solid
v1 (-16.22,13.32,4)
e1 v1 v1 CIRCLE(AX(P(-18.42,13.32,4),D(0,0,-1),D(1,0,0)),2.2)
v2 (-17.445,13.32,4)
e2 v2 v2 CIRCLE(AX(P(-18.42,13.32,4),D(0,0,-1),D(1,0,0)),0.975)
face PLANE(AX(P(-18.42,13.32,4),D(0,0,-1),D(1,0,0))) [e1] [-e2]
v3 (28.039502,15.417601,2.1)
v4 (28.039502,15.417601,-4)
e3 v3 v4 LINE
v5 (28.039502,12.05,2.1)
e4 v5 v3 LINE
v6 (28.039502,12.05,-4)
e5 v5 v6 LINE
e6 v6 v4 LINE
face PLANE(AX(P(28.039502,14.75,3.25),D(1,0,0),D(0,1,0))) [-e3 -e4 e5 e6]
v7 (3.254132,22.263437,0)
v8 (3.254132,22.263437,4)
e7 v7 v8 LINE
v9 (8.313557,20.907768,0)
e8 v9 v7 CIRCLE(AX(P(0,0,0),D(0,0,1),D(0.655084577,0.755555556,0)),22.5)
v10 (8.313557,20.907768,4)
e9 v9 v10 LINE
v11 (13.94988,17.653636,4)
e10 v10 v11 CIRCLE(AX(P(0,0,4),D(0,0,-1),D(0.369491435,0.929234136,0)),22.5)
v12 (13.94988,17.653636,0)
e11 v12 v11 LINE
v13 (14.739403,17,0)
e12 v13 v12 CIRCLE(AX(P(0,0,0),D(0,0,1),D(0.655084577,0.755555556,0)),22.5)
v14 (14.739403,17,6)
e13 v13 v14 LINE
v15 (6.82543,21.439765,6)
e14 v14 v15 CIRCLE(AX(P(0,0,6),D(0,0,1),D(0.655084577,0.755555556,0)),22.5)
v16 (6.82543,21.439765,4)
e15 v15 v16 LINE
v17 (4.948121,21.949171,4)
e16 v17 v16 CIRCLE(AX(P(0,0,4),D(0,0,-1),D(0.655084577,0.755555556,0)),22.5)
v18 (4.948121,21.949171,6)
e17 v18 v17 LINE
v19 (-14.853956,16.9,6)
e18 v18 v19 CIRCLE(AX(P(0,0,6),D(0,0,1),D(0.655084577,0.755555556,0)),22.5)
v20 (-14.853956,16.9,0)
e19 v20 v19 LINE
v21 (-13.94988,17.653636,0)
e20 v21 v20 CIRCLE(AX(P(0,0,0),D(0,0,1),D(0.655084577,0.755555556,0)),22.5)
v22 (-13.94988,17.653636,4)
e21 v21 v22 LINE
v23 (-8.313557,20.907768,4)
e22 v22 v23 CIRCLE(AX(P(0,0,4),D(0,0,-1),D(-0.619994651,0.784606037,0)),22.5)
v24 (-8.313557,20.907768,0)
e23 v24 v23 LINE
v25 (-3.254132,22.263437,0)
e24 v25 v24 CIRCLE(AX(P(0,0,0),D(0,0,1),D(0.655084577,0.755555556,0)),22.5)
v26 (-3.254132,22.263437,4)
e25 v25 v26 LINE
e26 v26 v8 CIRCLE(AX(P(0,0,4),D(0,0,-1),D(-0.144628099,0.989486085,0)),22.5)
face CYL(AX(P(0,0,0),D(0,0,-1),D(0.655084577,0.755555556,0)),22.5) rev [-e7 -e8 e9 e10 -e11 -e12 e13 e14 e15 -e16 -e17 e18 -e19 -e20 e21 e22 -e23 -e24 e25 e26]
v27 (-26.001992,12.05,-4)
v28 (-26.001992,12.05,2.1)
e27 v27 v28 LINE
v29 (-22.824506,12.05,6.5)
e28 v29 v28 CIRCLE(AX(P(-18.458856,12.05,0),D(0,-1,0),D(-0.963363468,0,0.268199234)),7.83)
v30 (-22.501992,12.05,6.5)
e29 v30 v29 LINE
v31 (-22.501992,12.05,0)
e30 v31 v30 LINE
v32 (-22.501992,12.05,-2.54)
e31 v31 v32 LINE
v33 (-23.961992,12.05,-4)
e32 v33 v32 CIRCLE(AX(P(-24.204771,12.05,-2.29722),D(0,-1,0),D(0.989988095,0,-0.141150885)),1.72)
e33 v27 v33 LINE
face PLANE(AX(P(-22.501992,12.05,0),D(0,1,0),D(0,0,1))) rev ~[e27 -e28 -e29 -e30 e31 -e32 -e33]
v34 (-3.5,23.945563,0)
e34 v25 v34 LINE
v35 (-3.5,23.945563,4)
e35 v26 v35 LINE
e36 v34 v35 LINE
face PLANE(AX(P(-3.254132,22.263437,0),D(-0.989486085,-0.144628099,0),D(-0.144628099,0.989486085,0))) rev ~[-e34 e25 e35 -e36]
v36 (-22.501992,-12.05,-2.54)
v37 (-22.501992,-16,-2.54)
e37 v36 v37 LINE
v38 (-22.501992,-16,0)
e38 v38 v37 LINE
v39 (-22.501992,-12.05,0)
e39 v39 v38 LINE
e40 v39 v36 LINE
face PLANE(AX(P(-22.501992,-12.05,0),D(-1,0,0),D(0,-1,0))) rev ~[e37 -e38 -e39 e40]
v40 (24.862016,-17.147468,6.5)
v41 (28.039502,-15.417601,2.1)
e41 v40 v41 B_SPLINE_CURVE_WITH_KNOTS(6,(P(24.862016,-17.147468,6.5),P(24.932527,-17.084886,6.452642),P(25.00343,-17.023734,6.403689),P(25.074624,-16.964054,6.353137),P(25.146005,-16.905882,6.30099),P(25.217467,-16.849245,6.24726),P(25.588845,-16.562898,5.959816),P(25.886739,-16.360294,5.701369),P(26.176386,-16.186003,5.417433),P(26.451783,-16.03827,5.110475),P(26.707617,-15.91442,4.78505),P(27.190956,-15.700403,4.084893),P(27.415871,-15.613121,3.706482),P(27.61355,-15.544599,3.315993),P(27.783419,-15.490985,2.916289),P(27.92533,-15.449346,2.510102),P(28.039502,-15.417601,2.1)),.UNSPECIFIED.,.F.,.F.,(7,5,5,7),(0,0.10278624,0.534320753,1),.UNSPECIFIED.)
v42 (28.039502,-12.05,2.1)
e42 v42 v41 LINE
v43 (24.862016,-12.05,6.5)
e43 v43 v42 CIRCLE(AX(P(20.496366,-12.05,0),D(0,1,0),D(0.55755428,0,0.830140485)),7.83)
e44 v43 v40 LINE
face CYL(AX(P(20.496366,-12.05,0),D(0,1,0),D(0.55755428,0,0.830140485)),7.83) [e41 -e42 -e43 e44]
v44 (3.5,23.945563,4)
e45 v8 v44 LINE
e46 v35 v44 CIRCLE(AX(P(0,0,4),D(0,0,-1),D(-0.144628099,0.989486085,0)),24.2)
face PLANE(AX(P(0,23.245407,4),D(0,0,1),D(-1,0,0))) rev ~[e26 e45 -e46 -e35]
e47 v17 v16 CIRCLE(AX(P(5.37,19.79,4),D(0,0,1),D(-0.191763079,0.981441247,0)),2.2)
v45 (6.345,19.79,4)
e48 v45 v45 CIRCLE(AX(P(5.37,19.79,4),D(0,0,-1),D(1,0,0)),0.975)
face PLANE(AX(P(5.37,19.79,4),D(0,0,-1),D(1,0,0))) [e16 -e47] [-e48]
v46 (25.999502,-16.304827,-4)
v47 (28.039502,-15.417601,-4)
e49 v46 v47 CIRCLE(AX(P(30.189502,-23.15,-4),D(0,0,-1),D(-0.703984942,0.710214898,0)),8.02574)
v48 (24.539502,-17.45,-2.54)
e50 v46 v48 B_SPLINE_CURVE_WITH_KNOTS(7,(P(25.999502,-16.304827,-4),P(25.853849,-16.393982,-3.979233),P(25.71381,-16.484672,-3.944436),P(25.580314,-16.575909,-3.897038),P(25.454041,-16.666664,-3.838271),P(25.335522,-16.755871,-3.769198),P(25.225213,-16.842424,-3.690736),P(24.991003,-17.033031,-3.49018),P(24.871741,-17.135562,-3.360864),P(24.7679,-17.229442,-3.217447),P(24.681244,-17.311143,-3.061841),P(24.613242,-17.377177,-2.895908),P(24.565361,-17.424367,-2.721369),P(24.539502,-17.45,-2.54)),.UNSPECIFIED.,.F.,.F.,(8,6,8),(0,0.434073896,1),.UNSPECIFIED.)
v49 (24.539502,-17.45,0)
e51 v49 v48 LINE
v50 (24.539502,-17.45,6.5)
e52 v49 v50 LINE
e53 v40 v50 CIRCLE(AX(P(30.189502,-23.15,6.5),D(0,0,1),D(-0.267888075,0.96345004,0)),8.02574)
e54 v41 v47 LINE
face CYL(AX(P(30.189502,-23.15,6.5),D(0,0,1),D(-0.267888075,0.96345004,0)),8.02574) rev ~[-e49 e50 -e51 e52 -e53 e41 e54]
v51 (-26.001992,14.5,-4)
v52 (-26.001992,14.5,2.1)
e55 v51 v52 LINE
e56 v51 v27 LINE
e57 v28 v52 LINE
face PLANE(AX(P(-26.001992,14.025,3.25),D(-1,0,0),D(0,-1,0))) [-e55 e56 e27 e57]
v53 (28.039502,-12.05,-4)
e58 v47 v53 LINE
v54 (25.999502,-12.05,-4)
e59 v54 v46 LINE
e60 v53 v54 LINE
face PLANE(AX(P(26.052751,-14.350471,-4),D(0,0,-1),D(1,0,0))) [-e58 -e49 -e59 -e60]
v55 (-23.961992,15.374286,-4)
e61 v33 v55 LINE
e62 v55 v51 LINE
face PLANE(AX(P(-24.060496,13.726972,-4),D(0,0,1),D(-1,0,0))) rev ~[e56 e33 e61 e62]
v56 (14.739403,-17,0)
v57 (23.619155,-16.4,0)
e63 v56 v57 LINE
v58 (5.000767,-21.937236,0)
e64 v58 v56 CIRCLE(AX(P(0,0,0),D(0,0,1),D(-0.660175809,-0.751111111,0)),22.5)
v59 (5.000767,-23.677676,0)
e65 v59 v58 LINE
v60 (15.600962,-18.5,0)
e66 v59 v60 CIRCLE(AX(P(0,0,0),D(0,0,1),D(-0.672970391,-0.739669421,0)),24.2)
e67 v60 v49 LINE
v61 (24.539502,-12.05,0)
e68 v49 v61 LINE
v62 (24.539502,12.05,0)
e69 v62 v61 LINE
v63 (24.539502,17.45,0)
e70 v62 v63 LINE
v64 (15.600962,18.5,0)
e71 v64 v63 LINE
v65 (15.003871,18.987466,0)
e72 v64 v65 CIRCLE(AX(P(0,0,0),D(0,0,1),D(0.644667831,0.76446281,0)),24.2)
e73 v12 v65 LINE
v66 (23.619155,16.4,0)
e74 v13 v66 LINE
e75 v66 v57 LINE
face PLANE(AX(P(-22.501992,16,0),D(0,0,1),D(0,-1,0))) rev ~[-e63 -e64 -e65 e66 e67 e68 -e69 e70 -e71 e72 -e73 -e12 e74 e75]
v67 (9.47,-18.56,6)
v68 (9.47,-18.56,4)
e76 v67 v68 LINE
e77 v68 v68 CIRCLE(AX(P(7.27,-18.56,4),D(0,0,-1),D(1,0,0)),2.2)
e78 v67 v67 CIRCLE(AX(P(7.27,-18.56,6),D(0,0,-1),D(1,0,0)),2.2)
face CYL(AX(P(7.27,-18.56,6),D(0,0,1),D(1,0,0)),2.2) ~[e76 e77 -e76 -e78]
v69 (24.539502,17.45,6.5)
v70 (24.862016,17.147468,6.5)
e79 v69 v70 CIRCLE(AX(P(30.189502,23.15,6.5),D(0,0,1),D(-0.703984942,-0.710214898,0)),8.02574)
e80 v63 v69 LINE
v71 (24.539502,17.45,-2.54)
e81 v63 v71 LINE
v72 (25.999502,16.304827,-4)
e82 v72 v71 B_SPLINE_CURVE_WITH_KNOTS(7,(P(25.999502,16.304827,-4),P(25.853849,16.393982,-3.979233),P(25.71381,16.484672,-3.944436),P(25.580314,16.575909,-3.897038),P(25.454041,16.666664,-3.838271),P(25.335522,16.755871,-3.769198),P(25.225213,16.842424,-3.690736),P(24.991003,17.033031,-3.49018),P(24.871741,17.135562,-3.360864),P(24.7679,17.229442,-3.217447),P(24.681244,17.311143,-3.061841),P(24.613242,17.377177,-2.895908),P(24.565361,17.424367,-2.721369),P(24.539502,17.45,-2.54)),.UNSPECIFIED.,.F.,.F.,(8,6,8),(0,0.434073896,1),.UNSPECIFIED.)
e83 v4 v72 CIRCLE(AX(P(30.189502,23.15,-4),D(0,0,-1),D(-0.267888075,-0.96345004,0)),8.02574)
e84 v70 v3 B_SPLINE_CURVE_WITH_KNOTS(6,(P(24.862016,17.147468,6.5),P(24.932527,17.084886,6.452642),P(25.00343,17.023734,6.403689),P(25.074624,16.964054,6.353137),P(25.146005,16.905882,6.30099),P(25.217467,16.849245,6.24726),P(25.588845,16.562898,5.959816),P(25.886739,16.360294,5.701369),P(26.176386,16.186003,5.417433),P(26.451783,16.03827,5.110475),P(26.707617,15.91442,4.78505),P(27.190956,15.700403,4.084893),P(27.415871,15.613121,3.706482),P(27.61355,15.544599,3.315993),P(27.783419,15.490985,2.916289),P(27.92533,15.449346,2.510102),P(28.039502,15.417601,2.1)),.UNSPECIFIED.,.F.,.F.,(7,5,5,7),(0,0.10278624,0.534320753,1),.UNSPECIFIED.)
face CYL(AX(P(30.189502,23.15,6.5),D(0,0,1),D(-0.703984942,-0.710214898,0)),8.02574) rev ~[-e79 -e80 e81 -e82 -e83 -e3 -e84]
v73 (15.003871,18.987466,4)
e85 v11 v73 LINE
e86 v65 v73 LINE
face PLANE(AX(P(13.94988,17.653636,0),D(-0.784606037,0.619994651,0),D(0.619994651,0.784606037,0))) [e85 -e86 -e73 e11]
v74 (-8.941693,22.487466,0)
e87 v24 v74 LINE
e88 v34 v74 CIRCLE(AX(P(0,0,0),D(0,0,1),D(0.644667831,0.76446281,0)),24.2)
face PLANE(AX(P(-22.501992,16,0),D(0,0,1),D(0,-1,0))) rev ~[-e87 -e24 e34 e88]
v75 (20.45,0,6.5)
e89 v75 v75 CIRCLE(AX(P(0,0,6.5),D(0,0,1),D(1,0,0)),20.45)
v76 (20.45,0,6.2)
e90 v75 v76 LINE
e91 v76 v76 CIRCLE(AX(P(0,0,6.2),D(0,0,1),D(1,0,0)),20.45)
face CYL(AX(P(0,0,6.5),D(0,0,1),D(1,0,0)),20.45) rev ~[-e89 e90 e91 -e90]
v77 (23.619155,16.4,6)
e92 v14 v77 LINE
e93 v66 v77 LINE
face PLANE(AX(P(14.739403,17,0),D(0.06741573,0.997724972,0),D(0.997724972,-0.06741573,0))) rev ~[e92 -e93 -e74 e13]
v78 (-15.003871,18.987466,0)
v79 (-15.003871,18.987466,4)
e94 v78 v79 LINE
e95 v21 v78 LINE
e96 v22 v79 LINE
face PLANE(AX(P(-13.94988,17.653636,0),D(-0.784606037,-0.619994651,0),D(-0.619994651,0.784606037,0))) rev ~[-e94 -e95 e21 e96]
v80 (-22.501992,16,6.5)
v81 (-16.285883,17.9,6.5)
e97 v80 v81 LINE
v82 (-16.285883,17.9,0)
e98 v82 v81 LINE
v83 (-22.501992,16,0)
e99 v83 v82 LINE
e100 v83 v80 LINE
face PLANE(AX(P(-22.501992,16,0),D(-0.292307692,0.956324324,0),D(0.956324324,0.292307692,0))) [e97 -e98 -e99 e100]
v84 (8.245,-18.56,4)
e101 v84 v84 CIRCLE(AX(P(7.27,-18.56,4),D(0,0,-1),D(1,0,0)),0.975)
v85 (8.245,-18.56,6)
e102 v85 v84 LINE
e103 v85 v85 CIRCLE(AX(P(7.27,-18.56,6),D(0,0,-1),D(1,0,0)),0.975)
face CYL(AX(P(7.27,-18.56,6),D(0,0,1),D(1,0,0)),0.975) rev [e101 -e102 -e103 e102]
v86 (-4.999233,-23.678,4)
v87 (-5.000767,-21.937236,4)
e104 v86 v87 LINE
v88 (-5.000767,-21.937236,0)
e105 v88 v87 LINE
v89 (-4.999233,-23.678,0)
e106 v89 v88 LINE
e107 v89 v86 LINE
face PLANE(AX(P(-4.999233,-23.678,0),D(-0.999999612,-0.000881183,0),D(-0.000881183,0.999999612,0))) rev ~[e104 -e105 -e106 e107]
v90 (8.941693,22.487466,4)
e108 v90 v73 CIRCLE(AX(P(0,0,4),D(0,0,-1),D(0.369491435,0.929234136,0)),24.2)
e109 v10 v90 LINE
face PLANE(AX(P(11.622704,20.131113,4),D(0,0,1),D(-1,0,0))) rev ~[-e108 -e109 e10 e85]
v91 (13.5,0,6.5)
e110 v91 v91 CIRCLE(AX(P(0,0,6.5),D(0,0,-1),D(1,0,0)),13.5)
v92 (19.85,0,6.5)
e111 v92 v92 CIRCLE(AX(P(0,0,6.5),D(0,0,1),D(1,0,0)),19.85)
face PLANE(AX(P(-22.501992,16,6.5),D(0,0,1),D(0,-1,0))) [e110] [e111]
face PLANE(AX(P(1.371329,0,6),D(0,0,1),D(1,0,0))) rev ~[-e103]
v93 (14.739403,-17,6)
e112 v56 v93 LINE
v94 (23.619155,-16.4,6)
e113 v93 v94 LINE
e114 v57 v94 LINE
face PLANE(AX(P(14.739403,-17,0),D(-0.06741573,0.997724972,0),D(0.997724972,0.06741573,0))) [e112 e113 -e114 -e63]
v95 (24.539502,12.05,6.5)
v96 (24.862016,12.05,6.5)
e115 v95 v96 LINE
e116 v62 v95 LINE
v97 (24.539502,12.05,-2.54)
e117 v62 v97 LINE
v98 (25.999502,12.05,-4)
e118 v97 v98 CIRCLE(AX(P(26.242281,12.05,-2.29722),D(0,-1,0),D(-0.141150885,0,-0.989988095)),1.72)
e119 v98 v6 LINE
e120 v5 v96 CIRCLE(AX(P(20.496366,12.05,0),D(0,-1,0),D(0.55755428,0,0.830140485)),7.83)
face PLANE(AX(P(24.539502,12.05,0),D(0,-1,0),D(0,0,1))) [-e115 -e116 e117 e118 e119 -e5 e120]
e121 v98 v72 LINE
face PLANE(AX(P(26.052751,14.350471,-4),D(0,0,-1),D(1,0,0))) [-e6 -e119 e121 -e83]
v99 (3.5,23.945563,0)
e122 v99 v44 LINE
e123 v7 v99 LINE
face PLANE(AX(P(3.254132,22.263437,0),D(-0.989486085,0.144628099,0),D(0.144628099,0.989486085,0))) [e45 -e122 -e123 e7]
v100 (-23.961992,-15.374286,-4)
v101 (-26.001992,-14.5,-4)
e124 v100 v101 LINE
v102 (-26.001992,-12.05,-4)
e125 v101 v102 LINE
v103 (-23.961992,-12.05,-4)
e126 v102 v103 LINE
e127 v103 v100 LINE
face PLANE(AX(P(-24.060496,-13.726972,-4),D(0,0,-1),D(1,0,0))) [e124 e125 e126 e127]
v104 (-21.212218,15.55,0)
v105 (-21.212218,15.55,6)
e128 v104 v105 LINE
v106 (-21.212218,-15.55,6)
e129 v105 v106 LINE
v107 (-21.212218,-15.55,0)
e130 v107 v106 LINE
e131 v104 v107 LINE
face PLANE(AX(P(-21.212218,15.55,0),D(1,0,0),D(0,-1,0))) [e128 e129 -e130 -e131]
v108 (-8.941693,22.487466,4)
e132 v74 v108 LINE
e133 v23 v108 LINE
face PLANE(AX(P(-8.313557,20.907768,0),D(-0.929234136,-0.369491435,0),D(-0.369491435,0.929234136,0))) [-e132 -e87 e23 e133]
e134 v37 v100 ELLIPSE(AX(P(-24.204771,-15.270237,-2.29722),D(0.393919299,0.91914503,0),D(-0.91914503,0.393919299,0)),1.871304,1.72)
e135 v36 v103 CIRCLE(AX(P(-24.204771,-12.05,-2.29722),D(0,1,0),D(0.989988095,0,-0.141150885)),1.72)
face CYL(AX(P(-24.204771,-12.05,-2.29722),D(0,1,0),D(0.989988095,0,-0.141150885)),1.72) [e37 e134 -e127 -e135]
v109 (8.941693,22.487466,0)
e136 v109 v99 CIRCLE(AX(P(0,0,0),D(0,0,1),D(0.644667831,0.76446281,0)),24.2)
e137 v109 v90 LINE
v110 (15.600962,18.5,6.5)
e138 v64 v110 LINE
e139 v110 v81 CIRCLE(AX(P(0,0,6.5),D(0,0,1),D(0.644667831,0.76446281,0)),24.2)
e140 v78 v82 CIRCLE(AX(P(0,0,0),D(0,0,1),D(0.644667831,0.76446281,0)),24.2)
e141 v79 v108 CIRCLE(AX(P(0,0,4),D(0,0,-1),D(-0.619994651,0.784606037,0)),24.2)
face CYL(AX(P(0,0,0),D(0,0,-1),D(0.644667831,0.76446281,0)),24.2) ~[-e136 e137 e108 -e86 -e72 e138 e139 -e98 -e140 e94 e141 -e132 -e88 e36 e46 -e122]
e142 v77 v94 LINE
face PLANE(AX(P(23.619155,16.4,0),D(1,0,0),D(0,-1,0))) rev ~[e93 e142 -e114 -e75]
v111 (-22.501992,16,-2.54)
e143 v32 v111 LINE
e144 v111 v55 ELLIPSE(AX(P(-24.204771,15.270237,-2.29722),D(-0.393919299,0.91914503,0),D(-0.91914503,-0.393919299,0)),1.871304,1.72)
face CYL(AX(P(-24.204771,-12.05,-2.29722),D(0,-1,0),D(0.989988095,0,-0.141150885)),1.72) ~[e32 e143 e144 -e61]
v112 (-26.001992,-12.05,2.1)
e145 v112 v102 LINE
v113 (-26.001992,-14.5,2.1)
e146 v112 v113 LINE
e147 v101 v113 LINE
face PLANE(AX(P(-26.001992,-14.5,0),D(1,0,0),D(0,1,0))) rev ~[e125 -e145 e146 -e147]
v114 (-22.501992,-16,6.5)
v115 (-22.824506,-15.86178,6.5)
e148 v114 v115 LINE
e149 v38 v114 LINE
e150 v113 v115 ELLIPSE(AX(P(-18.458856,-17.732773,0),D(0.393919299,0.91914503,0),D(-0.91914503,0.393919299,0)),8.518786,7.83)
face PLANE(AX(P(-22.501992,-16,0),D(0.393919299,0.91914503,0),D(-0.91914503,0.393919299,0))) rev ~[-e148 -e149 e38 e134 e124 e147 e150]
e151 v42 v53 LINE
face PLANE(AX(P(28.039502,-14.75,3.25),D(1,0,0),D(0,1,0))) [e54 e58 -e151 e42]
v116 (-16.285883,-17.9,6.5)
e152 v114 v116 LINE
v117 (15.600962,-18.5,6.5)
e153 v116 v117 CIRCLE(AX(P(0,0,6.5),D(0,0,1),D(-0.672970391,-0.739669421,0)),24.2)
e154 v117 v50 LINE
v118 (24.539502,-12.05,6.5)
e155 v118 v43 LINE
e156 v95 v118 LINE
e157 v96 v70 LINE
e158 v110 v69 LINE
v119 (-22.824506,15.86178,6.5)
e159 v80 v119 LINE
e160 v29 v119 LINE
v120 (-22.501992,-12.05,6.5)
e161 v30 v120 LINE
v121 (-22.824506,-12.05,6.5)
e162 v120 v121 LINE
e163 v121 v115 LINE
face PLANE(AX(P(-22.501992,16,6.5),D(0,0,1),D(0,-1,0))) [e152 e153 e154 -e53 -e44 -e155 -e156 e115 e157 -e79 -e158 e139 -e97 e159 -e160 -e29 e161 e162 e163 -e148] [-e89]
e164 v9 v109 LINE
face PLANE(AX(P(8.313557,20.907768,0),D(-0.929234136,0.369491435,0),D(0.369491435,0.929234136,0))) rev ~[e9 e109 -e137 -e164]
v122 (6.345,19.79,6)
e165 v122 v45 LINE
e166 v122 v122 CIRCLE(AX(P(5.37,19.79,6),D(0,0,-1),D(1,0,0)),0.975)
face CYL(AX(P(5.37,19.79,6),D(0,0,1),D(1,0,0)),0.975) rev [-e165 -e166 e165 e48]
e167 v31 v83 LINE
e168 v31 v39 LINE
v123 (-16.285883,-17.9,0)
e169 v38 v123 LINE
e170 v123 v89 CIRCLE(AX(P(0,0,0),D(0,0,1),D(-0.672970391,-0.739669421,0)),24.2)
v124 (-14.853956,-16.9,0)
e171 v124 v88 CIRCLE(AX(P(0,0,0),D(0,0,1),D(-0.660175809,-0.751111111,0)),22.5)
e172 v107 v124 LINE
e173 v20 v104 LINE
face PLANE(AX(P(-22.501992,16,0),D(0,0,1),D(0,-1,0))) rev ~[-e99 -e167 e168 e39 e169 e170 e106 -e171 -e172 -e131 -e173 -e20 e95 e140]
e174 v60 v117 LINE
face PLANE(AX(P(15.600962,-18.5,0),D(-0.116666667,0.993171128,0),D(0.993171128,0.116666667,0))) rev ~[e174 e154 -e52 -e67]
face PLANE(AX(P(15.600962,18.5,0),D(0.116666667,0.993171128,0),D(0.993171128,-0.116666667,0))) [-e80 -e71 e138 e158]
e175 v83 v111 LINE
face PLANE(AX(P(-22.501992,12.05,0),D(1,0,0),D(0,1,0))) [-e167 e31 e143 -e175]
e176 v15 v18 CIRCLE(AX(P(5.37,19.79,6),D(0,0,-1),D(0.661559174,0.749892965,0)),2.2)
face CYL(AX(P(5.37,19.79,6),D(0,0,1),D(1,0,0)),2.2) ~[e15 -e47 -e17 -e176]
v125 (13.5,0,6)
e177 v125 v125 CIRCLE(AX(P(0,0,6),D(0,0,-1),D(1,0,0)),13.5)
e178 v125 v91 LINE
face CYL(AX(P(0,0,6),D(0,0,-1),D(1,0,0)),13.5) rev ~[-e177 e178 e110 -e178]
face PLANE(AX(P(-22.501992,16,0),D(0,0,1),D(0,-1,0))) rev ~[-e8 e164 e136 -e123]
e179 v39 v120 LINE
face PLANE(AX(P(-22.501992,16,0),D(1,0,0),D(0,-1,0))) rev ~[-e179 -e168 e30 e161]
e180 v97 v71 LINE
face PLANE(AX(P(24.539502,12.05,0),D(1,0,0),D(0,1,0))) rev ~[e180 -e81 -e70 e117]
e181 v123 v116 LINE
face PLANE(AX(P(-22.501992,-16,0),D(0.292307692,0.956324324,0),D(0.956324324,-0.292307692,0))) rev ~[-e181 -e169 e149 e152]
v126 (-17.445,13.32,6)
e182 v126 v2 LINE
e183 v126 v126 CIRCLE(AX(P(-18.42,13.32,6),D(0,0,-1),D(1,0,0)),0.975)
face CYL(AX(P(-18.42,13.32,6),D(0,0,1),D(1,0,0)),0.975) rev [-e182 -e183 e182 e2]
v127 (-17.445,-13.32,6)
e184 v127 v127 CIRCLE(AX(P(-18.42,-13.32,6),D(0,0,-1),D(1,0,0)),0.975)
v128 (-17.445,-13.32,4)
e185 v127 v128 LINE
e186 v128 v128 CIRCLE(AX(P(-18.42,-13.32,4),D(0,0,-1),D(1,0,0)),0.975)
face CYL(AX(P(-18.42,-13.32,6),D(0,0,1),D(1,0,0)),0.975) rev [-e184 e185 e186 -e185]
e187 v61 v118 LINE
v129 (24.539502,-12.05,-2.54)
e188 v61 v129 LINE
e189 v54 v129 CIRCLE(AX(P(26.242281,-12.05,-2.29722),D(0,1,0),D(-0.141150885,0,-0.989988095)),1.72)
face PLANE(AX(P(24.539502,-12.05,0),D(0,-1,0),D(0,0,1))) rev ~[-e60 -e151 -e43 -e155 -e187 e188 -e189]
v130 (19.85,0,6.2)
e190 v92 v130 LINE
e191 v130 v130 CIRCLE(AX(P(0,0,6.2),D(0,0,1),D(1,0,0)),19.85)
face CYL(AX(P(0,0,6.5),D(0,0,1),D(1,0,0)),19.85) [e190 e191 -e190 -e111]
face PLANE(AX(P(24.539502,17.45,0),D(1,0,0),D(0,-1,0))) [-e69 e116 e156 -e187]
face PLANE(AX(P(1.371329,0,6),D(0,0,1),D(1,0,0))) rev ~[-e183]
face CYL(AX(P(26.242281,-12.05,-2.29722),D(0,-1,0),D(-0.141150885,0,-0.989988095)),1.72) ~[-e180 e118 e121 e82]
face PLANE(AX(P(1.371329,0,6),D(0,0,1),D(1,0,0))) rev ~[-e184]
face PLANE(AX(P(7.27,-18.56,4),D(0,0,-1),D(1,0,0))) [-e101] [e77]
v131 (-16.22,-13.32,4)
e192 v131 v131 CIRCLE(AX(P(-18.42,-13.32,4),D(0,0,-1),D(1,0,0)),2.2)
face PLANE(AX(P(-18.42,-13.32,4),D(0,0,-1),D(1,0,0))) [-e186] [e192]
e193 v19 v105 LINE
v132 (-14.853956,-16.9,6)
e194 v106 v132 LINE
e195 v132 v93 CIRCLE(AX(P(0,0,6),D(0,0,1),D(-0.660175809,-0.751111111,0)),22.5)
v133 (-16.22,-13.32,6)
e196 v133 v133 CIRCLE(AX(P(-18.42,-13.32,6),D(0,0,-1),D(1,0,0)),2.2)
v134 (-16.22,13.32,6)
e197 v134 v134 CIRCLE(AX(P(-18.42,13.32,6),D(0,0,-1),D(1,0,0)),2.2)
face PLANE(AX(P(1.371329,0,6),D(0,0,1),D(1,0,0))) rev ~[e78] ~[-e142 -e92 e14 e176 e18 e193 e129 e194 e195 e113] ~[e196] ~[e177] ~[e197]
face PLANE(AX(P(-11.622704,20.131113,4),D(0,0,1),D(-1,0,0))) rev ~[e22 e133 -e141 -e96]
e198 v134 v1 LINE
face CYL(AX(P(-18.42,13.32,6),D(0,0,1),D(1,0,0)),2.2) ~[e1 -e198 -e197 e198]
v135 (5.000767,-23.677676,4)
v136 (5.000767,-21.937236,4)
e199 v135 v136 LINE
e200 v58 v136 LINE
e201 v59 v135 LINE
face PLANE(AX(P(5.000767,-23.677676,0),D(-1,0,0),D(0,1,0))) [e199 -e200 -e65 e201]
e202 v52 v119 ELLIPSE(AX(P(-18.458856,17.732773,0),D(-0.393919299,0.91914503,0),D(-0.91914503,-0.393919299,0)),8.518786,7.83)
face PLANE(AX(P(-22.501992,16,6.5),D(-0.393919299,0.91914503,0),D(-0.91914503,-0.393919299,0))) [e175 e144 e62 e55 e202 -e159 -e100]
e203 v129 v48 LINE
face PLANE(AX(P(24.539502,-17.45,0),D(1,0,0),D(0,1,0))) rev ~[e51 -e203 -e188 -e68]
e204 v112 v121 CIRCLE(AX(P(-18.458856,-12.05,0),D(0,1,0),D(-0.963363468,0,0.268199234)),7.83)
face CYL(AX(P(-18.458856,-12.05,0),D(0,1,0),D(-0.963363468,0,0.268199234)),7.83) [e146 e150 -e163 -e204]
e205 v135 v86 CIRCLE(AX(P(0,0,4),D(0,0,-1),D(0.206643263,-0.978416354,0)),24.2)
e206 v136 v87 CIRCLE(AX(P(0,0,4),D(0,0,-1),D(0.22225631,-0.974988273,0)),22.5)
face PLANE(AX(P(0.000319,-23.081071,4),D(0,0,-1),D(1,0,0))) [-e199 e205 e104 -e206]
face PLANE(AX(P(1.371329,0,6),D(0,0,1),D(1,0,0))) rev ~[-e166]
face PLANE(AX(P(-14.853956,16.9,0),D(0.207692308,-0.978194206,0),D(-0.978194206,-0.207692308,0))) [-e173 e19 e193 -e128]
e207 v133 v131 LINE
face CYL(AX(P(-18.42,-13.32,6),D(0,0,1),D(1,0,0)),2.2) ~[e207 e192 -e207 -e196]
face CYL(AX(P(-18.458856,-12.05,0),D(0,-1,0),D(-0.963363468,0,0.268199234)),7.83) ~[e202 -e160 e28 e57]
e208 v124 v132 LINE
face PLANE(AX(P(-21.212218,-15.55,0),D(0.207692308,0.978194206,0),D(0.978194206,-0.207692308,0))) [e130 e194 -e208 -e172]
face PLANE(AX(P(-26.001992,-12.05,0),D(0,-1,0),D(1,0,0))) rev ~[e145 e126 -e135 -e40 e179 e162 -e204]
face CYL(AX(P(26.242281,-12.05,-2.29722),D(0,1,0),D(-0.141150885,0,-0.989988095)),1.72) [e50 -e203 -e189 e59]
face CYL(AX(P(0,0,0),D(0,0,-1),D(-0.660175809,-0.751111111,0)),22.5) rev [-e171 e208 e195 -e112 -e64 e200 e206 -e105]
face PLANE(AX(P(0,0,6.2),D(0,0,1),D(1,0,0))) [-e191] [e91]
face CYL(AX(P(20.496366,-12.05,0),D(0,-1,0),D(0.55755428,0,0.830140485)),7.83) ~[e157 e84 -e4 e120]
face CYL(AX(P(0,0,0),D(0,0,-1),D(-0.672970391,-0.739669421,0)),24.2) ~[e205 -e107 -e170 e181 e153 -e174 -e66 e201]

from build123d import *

# Parameters (mm, degrees)
PAD_DEPTH            = 6.5
POCKET_DEPTH         = 6
SKETCH002_R          = 13.5
POCKET001_DEPTH      = 1
SKETCH003_W          = 5.4
SKETCH003_H          = 6.5
PAD001_DEPTH         = 3.5
POCKET002_DEPTH      = 10
SKETCH010_W          = 3.95
SKETCH010_H          = 6.5
PAD002_DEPTH         = 3.5
POCKET005_DEPTH      = 10
SKETCH014_R          = 20.45
SKETCH014_R_2        = 19.85
POCKET008_DEPTH      = 0.3
SKETCH015_R          = 2.2
SKETCH015_R_2        = 0.975
PAD003_DEPTH         = 2
POCKET009_DEPTH      = 4
POCKET010_DEPTH      = 4
PAD004_DEPTH         = 4
POCKET013_DEPTH      = 12.151
POCKET013_DEPTH_BACK = 36.251


with BuildPart() as part:
    # Sketch → Pad (new body)
    with BuildSketch(Plane.XY):
        with BuildLine():
            Line((-22.5019915649, 16), (-22.5019915649, -16))
            Line((-22.5019915649, -16), (-16.2858834578, -17.9))
            ThreePointArc((-16.2858834578, -17.9), (-0.4552796053, -24.1957169863), (15.6009615088, -18.5))
            Line((15.6009615088, -18.5), (24.5395016581, -17.45))
            Line((24.5395016581, 17.45), (24.5395016581, -17.45))
            Line((15.6009615088, 18.5), (24.5395016581, 17.45))
            ThreePointArc((15.6009615088, 18.5), (-0.4552796053, 24.1957169863), (-16.2858834578, 17.9))
            Line((-22.5019915649, 16), (-16.2858834578, 17.9))
        make_face()
    extrude(amount=PAD_DEPTH)

    # Sketch001 → Pocket (cut)
    with BuildSketch(Plane.XY):
        with BuildLine():
            Line((-14.8539557021, 16.9), (-21.2122180433, 15.55))
            Line((-21.2122180433, 15.55), (-21.2122180433, -15.55))
            Line((-21.2122180433, -15.55), (-14.8539557021, -16.9))
            ThreePointArc((-14.8539557021, -16.9), (-0.0760301383, -22.4998715423), (14.739402973, -17))
            Line((14.739402973, -17), (23.6191552218, -16.4))
            Line((23.6191552218, 16.4), (23.6191552218, -16.4))
            Line((14.739402973, 17), (23.6191552218, 16.4))
            ThreePointArc((14.739402973, 17), (-0.0760301383, 22.4998715423), (-14.8539557021, 16.9))
        make_face()
    extrude(amount=POCKET_DEPTH, mode=Mode.SUBTRACT)

    # Sketch002 (on Face19 of Pocket) → Pocket001 (cut)
    with BuildSketch(Plane(origin=(0, 0, 6), x_dir=(1, 0, 0), z_dir=(0, 0, -1))):
        Circle(SKETCH002_R)
    extrude(amount=-POCKET001_DEPTH, mode=Mode.SUBTRACT)

    # Sketch003 (on Face7 of Pad) → Pad001 (join)
    with BuildSketch(Plane.YZ.offset(24.5395016581)):
        with Locations((-14.75, 3.25)):
            Rectangle(SKETCH003_W, SKETCH003_H)
        with Locations((14.75, 3.25)):
            Rectangle(SKETCH003_W, SKETCH003_H)
    extrude(amount=PAD001_DEPTH)

    # Sketch006 (on Face22 of Pad001) → Pocket002 (cut)
    with BuildSketch(Plane.XY.offset(6.5)):
        with BuildLine():
            ThreePointArc((24.5395016581, 17.45), (26.1592830786, 16.2095505764), (28.0395016581, 15.4176006311))
            Line((28.0395016581, 17.45), (28.0395016581, 15.4176006311))
            Line((28.0395016581, 17.45), (24.5395016581, 17.45))
        make_face()
        with BuildLine():
            ThreePointArc((28.0395016581, -15.4176006311), (26.1592830786, -16.2095505765), (24.5395016581, -17.4500000001))
            Line((28.0395016581, -17.45), (24.5395016581, -17.45))
            Line((28.0395016581, -15.4176006311), (28.0395016581, -17.45))
        make_face()
    extrude(amount=-POCKET002_DEPTH, mode=Mode.SUBTRACT)

    # Sketch010 (on Face3 of Pad) → Pad002 (join)
    with BuildSketch(Plane(origin=(-22.5019915649, 0, 0), x_dir=(0, -1, 0), z_dir=(-1, 0, 0))):
        with Locations((-14.025, 3.25)):
            Rectangle(SKETCH010_W, SKETCH010_H)
        with Locations((14.025, 3.25)):
            Rectangle(SKETCH010_W, SKETCH010_H)
    extrude(amount=PAD002_DEPTH)

    # Sketch011 (on Face28 of Pad002) → Pocket005 (cut)
    with BuildSketch(Plane.XY.offset(6.5)):
        Polygon((-26.0019915649, 16), (-22.5019915649, 16), (-26.0019915649, 14.5), align=None)
        Polygon((-22.5019915649, -16), (-26.0019915649, -14.5), (-26.0019915649, -16), align=None)
    extrude(amount=-POCKET005_DEPTH, mode=Mode.SUBTRACT)

    # Sketch014 (on Face10 of Pad) → Pocket008 (cut)
    with BuildSketch(Plane.XY.offset(6.5)):
        Circle(SKETCH014_R)
        Circle(SKETCH014_R_2, mode=Mode.SUBTRACT)
    extrude(amount=-POCKET008_DEPTH, mode=Mode.SUBTRACT)

    # Sketch015 (on Face19 of Pocket) → Pad003 (join)
    with BuildSketch(Plane(origin=(0, 0, 6), x_dir=(1, 0, 0), z_dir=(0, 0, -1))):
        with Locations((-18.42, 13.32)):
            Circle(SKETCH015_R)
        with Locations((-18.42, 13.32)):
            Circle(SKETCH015_R_2, mode=Mode.SUBTRACT)
        with Locations((7.27, 18.56)):
            Circle(SKETCH015_R)
        with Locations((7.27, 18.56)):
            Circle(SKETCH015_R_2, mode=Mode.SUBTRACT)
        with Locations((5.37, -19.79)):
            Circle(SKETCH015_R)
        with Locations((5.37, -19.79)):
            Circle(SKETCH015_R_2, mode=Mode.SUBTRACT)
        with Locations((-18.42, -13.32)):
            Circle(SKETCH015_R)
        with Locations((-18.42, -13.32)):
            Circle(SKETCH015_R_2, mode=Mode.SUBTRACT)
    extrude(amount=PAD003_DEPTH)

    # Sketch016 (on Face4 of Pocket) → Pocket009 (cut)
    with BuildSketch(Plane(origin=(0, 0, 0), x_dir=(1, 0, 0), z_dir=(0, 0, -1))):
        with BuildLine():
            Line((-4.9992330338, 23.6779996848), (-5.0007669662, 21.9372361465))
            ThreePointArc((5.0007669662, 21.9372361465), (0, 22.5), (-5.0007669662, 21.9372361465))
            Line((5.0007669662, 23.6776757675), (5.0007669662, 21.9372361465))
            ThreePointArc((5.0007669662, 23.6776757675), (0.00078388, 24.1999999873), (-4.9992330338, 23.6779996848))
        make_face()
    extrude(amount=-POCKET009_DEPTH, mode=Mode.SUBTRACT)

    # Sketch017 (on Face4 of Pocket) → Pocket010 (cut)
    with BuildSketch(Plane(origin=(0, 0, 0), x_dir=(1, 0, 0), z_dir=(0, 0, -1))):
        with BuildLine():
            ThreePointArc((-3.2541322314, -22.2634369184), (0, -22.5), (3.2541322314, -22.2634369184))
            Line((3.2541322314, -22.2634369184), (3.5, -23.9455632634))
            ThreePointArc((-3.5, -23.9455632634), (0, -24.2), (3.5, -23.9455632634))
            Line((-3.2541322314, -22.2634369184), (-3.5, -23.9455632634))
        make_face()
        with BuildLine():
            ThreePointArc((-13.9498796389, -17.6536358312), (-11.25, -19.4855715851), (-8.3135572795, -20.9077680626))
            Line((-8.3135572795, -20.9077680626), (-8.9416927184, -22.487466094))
            ThreePointArc((-15.0038705449, -18.987466094), (-12.1, -20.9578147716), (-8.9416927184, -22.487466094))
            Line((-13.9498796389, -17.6536358312), (-15.0038705449, -18.987466094))
        make_face()
        with BuildLine():
            ThreePointArc((8.3135572795, -20.9077680626), (11.25, -19.4855715851), (13.9498796389, -17.6536358312))
            Line((13.9498796389, -17.6536358312), (15.0038705449, -18.987466094))
            ThreePointArc((8.9416927184, -22.487466094), (12.1, -20.9578147716), (15.0038705449, -18.987466094))
            Line((8.3135572795, -20.9077680626), (8.9416927184, -22.487466094))
        make_face()
    extrude(amount=-POCKET010_DEPTH, mode=Mode.SUBTRACT)

    # Sketch018 (on Face8 of Pocket005) → Pad004 (join)
    with BuildSketch(Plane(origin=(0, 0, 0), x_dir=(1, 0, 0), z_dir=(0, 0, -1))):
        Polygon((-26.0019915649, 14.5), (-26.0019915649, 12.05), (-22.5019915649, 12.05), (-22.5019915649, 16), align=None)
        Polygon((-26.0019915649, -12.05), (-22.5019915649, -12.05), (-22.5019915649, -16), (-26.0019915649, -14.5), align=None)
        with BuildLine():
            Line((24.5395016581, 17.4500000001), (24.5395016581, 12.05))
            Line((28.0395016581, 12.05), (24.5395016581, 12.05))
            Line((28.0395016581, 15.4176006311), (28.0395016581, 12.05))
            ThreePointArc((24.5395016581, 17.4500000001), (26.1592830786, 16.2095505765), (28.0395016581, 15.4176006311))
        make_face()
        with BuildLine():
            Line((24.5395016581, -12.05), (24.5395016581, -17.45))
            ThreePointArc((28.0395016581, -15.4176006311), (26.1592830786, -16.2095505764), (24.5395016581, -17.45))
            Line((28.0395016581, -12.05), (28.0395016581, -15.4176006311))
            Line((24.5395016581, -12.05), (28.0395016581, -12.05))
        make_face()
    extrude(amount=PAD004_DEPTH)

    # Sketch021 (on Face50 of Pad004) → Pocket013 (cut, two sides)
    with BuildSketch(Plane(origin=(0, -12.05, 0), x_dir=(-1, 0, 0), z_dir=(0, 1, 0))) as pocket013_sk:
        with BuildLine():
            Line((-24.8620157143, 6.5), (-28.0395016581, 6.5))
            Line((-28.0395016581, 6.5), (-28.0395016581, 2.1))
            ThreePointArc((-24.8620157143, 6.5), (-26.8441838951, 4.5841143344), (-28.0395016581, 2.1))
        make_face()
        with BuildLine():
            ThreePointArc((-25.9995016581, -4), (-25.0260575173, -3.5134441408), (-24.5395016581, -2.54))
            Line((-24.5395016581, -4), (-24.5395016581, -2.54))
            Line((-24.5395016581, -4), (-25.9995016581, -4))
        make_face()
        with BuildLine():
            Line((22.5019915649, -4), (22.5019915649, -2.54))
            ThreePointArc((22.5019915649, -2.54), (22.9885474241, -3.5134441408), (23.9619915649, -4))
            Line((22.5019915649, -4), (23.9619915649, -4))
        make_face()
        with BuildLine():
            Line((26.0019915649, 6.5), (26.0019915649, 2.1))
            ThreePointArc((26.0019915649, 2.1), (24.806673802, 4.5841143344), (22.8245056212, 6.5))
            Line((26.0019915649, 6.5), (22.8245056212, 6.5))
        make_face()
    extrude(amount=-POCKET013_DEPTH, mode=Mode.SUBTRACT)
    extrude(pocket013_sk.sketch, amount=POCKET013_DEPTH_BACK, mode=Mode.SUBTRACT)


solid = part.part
